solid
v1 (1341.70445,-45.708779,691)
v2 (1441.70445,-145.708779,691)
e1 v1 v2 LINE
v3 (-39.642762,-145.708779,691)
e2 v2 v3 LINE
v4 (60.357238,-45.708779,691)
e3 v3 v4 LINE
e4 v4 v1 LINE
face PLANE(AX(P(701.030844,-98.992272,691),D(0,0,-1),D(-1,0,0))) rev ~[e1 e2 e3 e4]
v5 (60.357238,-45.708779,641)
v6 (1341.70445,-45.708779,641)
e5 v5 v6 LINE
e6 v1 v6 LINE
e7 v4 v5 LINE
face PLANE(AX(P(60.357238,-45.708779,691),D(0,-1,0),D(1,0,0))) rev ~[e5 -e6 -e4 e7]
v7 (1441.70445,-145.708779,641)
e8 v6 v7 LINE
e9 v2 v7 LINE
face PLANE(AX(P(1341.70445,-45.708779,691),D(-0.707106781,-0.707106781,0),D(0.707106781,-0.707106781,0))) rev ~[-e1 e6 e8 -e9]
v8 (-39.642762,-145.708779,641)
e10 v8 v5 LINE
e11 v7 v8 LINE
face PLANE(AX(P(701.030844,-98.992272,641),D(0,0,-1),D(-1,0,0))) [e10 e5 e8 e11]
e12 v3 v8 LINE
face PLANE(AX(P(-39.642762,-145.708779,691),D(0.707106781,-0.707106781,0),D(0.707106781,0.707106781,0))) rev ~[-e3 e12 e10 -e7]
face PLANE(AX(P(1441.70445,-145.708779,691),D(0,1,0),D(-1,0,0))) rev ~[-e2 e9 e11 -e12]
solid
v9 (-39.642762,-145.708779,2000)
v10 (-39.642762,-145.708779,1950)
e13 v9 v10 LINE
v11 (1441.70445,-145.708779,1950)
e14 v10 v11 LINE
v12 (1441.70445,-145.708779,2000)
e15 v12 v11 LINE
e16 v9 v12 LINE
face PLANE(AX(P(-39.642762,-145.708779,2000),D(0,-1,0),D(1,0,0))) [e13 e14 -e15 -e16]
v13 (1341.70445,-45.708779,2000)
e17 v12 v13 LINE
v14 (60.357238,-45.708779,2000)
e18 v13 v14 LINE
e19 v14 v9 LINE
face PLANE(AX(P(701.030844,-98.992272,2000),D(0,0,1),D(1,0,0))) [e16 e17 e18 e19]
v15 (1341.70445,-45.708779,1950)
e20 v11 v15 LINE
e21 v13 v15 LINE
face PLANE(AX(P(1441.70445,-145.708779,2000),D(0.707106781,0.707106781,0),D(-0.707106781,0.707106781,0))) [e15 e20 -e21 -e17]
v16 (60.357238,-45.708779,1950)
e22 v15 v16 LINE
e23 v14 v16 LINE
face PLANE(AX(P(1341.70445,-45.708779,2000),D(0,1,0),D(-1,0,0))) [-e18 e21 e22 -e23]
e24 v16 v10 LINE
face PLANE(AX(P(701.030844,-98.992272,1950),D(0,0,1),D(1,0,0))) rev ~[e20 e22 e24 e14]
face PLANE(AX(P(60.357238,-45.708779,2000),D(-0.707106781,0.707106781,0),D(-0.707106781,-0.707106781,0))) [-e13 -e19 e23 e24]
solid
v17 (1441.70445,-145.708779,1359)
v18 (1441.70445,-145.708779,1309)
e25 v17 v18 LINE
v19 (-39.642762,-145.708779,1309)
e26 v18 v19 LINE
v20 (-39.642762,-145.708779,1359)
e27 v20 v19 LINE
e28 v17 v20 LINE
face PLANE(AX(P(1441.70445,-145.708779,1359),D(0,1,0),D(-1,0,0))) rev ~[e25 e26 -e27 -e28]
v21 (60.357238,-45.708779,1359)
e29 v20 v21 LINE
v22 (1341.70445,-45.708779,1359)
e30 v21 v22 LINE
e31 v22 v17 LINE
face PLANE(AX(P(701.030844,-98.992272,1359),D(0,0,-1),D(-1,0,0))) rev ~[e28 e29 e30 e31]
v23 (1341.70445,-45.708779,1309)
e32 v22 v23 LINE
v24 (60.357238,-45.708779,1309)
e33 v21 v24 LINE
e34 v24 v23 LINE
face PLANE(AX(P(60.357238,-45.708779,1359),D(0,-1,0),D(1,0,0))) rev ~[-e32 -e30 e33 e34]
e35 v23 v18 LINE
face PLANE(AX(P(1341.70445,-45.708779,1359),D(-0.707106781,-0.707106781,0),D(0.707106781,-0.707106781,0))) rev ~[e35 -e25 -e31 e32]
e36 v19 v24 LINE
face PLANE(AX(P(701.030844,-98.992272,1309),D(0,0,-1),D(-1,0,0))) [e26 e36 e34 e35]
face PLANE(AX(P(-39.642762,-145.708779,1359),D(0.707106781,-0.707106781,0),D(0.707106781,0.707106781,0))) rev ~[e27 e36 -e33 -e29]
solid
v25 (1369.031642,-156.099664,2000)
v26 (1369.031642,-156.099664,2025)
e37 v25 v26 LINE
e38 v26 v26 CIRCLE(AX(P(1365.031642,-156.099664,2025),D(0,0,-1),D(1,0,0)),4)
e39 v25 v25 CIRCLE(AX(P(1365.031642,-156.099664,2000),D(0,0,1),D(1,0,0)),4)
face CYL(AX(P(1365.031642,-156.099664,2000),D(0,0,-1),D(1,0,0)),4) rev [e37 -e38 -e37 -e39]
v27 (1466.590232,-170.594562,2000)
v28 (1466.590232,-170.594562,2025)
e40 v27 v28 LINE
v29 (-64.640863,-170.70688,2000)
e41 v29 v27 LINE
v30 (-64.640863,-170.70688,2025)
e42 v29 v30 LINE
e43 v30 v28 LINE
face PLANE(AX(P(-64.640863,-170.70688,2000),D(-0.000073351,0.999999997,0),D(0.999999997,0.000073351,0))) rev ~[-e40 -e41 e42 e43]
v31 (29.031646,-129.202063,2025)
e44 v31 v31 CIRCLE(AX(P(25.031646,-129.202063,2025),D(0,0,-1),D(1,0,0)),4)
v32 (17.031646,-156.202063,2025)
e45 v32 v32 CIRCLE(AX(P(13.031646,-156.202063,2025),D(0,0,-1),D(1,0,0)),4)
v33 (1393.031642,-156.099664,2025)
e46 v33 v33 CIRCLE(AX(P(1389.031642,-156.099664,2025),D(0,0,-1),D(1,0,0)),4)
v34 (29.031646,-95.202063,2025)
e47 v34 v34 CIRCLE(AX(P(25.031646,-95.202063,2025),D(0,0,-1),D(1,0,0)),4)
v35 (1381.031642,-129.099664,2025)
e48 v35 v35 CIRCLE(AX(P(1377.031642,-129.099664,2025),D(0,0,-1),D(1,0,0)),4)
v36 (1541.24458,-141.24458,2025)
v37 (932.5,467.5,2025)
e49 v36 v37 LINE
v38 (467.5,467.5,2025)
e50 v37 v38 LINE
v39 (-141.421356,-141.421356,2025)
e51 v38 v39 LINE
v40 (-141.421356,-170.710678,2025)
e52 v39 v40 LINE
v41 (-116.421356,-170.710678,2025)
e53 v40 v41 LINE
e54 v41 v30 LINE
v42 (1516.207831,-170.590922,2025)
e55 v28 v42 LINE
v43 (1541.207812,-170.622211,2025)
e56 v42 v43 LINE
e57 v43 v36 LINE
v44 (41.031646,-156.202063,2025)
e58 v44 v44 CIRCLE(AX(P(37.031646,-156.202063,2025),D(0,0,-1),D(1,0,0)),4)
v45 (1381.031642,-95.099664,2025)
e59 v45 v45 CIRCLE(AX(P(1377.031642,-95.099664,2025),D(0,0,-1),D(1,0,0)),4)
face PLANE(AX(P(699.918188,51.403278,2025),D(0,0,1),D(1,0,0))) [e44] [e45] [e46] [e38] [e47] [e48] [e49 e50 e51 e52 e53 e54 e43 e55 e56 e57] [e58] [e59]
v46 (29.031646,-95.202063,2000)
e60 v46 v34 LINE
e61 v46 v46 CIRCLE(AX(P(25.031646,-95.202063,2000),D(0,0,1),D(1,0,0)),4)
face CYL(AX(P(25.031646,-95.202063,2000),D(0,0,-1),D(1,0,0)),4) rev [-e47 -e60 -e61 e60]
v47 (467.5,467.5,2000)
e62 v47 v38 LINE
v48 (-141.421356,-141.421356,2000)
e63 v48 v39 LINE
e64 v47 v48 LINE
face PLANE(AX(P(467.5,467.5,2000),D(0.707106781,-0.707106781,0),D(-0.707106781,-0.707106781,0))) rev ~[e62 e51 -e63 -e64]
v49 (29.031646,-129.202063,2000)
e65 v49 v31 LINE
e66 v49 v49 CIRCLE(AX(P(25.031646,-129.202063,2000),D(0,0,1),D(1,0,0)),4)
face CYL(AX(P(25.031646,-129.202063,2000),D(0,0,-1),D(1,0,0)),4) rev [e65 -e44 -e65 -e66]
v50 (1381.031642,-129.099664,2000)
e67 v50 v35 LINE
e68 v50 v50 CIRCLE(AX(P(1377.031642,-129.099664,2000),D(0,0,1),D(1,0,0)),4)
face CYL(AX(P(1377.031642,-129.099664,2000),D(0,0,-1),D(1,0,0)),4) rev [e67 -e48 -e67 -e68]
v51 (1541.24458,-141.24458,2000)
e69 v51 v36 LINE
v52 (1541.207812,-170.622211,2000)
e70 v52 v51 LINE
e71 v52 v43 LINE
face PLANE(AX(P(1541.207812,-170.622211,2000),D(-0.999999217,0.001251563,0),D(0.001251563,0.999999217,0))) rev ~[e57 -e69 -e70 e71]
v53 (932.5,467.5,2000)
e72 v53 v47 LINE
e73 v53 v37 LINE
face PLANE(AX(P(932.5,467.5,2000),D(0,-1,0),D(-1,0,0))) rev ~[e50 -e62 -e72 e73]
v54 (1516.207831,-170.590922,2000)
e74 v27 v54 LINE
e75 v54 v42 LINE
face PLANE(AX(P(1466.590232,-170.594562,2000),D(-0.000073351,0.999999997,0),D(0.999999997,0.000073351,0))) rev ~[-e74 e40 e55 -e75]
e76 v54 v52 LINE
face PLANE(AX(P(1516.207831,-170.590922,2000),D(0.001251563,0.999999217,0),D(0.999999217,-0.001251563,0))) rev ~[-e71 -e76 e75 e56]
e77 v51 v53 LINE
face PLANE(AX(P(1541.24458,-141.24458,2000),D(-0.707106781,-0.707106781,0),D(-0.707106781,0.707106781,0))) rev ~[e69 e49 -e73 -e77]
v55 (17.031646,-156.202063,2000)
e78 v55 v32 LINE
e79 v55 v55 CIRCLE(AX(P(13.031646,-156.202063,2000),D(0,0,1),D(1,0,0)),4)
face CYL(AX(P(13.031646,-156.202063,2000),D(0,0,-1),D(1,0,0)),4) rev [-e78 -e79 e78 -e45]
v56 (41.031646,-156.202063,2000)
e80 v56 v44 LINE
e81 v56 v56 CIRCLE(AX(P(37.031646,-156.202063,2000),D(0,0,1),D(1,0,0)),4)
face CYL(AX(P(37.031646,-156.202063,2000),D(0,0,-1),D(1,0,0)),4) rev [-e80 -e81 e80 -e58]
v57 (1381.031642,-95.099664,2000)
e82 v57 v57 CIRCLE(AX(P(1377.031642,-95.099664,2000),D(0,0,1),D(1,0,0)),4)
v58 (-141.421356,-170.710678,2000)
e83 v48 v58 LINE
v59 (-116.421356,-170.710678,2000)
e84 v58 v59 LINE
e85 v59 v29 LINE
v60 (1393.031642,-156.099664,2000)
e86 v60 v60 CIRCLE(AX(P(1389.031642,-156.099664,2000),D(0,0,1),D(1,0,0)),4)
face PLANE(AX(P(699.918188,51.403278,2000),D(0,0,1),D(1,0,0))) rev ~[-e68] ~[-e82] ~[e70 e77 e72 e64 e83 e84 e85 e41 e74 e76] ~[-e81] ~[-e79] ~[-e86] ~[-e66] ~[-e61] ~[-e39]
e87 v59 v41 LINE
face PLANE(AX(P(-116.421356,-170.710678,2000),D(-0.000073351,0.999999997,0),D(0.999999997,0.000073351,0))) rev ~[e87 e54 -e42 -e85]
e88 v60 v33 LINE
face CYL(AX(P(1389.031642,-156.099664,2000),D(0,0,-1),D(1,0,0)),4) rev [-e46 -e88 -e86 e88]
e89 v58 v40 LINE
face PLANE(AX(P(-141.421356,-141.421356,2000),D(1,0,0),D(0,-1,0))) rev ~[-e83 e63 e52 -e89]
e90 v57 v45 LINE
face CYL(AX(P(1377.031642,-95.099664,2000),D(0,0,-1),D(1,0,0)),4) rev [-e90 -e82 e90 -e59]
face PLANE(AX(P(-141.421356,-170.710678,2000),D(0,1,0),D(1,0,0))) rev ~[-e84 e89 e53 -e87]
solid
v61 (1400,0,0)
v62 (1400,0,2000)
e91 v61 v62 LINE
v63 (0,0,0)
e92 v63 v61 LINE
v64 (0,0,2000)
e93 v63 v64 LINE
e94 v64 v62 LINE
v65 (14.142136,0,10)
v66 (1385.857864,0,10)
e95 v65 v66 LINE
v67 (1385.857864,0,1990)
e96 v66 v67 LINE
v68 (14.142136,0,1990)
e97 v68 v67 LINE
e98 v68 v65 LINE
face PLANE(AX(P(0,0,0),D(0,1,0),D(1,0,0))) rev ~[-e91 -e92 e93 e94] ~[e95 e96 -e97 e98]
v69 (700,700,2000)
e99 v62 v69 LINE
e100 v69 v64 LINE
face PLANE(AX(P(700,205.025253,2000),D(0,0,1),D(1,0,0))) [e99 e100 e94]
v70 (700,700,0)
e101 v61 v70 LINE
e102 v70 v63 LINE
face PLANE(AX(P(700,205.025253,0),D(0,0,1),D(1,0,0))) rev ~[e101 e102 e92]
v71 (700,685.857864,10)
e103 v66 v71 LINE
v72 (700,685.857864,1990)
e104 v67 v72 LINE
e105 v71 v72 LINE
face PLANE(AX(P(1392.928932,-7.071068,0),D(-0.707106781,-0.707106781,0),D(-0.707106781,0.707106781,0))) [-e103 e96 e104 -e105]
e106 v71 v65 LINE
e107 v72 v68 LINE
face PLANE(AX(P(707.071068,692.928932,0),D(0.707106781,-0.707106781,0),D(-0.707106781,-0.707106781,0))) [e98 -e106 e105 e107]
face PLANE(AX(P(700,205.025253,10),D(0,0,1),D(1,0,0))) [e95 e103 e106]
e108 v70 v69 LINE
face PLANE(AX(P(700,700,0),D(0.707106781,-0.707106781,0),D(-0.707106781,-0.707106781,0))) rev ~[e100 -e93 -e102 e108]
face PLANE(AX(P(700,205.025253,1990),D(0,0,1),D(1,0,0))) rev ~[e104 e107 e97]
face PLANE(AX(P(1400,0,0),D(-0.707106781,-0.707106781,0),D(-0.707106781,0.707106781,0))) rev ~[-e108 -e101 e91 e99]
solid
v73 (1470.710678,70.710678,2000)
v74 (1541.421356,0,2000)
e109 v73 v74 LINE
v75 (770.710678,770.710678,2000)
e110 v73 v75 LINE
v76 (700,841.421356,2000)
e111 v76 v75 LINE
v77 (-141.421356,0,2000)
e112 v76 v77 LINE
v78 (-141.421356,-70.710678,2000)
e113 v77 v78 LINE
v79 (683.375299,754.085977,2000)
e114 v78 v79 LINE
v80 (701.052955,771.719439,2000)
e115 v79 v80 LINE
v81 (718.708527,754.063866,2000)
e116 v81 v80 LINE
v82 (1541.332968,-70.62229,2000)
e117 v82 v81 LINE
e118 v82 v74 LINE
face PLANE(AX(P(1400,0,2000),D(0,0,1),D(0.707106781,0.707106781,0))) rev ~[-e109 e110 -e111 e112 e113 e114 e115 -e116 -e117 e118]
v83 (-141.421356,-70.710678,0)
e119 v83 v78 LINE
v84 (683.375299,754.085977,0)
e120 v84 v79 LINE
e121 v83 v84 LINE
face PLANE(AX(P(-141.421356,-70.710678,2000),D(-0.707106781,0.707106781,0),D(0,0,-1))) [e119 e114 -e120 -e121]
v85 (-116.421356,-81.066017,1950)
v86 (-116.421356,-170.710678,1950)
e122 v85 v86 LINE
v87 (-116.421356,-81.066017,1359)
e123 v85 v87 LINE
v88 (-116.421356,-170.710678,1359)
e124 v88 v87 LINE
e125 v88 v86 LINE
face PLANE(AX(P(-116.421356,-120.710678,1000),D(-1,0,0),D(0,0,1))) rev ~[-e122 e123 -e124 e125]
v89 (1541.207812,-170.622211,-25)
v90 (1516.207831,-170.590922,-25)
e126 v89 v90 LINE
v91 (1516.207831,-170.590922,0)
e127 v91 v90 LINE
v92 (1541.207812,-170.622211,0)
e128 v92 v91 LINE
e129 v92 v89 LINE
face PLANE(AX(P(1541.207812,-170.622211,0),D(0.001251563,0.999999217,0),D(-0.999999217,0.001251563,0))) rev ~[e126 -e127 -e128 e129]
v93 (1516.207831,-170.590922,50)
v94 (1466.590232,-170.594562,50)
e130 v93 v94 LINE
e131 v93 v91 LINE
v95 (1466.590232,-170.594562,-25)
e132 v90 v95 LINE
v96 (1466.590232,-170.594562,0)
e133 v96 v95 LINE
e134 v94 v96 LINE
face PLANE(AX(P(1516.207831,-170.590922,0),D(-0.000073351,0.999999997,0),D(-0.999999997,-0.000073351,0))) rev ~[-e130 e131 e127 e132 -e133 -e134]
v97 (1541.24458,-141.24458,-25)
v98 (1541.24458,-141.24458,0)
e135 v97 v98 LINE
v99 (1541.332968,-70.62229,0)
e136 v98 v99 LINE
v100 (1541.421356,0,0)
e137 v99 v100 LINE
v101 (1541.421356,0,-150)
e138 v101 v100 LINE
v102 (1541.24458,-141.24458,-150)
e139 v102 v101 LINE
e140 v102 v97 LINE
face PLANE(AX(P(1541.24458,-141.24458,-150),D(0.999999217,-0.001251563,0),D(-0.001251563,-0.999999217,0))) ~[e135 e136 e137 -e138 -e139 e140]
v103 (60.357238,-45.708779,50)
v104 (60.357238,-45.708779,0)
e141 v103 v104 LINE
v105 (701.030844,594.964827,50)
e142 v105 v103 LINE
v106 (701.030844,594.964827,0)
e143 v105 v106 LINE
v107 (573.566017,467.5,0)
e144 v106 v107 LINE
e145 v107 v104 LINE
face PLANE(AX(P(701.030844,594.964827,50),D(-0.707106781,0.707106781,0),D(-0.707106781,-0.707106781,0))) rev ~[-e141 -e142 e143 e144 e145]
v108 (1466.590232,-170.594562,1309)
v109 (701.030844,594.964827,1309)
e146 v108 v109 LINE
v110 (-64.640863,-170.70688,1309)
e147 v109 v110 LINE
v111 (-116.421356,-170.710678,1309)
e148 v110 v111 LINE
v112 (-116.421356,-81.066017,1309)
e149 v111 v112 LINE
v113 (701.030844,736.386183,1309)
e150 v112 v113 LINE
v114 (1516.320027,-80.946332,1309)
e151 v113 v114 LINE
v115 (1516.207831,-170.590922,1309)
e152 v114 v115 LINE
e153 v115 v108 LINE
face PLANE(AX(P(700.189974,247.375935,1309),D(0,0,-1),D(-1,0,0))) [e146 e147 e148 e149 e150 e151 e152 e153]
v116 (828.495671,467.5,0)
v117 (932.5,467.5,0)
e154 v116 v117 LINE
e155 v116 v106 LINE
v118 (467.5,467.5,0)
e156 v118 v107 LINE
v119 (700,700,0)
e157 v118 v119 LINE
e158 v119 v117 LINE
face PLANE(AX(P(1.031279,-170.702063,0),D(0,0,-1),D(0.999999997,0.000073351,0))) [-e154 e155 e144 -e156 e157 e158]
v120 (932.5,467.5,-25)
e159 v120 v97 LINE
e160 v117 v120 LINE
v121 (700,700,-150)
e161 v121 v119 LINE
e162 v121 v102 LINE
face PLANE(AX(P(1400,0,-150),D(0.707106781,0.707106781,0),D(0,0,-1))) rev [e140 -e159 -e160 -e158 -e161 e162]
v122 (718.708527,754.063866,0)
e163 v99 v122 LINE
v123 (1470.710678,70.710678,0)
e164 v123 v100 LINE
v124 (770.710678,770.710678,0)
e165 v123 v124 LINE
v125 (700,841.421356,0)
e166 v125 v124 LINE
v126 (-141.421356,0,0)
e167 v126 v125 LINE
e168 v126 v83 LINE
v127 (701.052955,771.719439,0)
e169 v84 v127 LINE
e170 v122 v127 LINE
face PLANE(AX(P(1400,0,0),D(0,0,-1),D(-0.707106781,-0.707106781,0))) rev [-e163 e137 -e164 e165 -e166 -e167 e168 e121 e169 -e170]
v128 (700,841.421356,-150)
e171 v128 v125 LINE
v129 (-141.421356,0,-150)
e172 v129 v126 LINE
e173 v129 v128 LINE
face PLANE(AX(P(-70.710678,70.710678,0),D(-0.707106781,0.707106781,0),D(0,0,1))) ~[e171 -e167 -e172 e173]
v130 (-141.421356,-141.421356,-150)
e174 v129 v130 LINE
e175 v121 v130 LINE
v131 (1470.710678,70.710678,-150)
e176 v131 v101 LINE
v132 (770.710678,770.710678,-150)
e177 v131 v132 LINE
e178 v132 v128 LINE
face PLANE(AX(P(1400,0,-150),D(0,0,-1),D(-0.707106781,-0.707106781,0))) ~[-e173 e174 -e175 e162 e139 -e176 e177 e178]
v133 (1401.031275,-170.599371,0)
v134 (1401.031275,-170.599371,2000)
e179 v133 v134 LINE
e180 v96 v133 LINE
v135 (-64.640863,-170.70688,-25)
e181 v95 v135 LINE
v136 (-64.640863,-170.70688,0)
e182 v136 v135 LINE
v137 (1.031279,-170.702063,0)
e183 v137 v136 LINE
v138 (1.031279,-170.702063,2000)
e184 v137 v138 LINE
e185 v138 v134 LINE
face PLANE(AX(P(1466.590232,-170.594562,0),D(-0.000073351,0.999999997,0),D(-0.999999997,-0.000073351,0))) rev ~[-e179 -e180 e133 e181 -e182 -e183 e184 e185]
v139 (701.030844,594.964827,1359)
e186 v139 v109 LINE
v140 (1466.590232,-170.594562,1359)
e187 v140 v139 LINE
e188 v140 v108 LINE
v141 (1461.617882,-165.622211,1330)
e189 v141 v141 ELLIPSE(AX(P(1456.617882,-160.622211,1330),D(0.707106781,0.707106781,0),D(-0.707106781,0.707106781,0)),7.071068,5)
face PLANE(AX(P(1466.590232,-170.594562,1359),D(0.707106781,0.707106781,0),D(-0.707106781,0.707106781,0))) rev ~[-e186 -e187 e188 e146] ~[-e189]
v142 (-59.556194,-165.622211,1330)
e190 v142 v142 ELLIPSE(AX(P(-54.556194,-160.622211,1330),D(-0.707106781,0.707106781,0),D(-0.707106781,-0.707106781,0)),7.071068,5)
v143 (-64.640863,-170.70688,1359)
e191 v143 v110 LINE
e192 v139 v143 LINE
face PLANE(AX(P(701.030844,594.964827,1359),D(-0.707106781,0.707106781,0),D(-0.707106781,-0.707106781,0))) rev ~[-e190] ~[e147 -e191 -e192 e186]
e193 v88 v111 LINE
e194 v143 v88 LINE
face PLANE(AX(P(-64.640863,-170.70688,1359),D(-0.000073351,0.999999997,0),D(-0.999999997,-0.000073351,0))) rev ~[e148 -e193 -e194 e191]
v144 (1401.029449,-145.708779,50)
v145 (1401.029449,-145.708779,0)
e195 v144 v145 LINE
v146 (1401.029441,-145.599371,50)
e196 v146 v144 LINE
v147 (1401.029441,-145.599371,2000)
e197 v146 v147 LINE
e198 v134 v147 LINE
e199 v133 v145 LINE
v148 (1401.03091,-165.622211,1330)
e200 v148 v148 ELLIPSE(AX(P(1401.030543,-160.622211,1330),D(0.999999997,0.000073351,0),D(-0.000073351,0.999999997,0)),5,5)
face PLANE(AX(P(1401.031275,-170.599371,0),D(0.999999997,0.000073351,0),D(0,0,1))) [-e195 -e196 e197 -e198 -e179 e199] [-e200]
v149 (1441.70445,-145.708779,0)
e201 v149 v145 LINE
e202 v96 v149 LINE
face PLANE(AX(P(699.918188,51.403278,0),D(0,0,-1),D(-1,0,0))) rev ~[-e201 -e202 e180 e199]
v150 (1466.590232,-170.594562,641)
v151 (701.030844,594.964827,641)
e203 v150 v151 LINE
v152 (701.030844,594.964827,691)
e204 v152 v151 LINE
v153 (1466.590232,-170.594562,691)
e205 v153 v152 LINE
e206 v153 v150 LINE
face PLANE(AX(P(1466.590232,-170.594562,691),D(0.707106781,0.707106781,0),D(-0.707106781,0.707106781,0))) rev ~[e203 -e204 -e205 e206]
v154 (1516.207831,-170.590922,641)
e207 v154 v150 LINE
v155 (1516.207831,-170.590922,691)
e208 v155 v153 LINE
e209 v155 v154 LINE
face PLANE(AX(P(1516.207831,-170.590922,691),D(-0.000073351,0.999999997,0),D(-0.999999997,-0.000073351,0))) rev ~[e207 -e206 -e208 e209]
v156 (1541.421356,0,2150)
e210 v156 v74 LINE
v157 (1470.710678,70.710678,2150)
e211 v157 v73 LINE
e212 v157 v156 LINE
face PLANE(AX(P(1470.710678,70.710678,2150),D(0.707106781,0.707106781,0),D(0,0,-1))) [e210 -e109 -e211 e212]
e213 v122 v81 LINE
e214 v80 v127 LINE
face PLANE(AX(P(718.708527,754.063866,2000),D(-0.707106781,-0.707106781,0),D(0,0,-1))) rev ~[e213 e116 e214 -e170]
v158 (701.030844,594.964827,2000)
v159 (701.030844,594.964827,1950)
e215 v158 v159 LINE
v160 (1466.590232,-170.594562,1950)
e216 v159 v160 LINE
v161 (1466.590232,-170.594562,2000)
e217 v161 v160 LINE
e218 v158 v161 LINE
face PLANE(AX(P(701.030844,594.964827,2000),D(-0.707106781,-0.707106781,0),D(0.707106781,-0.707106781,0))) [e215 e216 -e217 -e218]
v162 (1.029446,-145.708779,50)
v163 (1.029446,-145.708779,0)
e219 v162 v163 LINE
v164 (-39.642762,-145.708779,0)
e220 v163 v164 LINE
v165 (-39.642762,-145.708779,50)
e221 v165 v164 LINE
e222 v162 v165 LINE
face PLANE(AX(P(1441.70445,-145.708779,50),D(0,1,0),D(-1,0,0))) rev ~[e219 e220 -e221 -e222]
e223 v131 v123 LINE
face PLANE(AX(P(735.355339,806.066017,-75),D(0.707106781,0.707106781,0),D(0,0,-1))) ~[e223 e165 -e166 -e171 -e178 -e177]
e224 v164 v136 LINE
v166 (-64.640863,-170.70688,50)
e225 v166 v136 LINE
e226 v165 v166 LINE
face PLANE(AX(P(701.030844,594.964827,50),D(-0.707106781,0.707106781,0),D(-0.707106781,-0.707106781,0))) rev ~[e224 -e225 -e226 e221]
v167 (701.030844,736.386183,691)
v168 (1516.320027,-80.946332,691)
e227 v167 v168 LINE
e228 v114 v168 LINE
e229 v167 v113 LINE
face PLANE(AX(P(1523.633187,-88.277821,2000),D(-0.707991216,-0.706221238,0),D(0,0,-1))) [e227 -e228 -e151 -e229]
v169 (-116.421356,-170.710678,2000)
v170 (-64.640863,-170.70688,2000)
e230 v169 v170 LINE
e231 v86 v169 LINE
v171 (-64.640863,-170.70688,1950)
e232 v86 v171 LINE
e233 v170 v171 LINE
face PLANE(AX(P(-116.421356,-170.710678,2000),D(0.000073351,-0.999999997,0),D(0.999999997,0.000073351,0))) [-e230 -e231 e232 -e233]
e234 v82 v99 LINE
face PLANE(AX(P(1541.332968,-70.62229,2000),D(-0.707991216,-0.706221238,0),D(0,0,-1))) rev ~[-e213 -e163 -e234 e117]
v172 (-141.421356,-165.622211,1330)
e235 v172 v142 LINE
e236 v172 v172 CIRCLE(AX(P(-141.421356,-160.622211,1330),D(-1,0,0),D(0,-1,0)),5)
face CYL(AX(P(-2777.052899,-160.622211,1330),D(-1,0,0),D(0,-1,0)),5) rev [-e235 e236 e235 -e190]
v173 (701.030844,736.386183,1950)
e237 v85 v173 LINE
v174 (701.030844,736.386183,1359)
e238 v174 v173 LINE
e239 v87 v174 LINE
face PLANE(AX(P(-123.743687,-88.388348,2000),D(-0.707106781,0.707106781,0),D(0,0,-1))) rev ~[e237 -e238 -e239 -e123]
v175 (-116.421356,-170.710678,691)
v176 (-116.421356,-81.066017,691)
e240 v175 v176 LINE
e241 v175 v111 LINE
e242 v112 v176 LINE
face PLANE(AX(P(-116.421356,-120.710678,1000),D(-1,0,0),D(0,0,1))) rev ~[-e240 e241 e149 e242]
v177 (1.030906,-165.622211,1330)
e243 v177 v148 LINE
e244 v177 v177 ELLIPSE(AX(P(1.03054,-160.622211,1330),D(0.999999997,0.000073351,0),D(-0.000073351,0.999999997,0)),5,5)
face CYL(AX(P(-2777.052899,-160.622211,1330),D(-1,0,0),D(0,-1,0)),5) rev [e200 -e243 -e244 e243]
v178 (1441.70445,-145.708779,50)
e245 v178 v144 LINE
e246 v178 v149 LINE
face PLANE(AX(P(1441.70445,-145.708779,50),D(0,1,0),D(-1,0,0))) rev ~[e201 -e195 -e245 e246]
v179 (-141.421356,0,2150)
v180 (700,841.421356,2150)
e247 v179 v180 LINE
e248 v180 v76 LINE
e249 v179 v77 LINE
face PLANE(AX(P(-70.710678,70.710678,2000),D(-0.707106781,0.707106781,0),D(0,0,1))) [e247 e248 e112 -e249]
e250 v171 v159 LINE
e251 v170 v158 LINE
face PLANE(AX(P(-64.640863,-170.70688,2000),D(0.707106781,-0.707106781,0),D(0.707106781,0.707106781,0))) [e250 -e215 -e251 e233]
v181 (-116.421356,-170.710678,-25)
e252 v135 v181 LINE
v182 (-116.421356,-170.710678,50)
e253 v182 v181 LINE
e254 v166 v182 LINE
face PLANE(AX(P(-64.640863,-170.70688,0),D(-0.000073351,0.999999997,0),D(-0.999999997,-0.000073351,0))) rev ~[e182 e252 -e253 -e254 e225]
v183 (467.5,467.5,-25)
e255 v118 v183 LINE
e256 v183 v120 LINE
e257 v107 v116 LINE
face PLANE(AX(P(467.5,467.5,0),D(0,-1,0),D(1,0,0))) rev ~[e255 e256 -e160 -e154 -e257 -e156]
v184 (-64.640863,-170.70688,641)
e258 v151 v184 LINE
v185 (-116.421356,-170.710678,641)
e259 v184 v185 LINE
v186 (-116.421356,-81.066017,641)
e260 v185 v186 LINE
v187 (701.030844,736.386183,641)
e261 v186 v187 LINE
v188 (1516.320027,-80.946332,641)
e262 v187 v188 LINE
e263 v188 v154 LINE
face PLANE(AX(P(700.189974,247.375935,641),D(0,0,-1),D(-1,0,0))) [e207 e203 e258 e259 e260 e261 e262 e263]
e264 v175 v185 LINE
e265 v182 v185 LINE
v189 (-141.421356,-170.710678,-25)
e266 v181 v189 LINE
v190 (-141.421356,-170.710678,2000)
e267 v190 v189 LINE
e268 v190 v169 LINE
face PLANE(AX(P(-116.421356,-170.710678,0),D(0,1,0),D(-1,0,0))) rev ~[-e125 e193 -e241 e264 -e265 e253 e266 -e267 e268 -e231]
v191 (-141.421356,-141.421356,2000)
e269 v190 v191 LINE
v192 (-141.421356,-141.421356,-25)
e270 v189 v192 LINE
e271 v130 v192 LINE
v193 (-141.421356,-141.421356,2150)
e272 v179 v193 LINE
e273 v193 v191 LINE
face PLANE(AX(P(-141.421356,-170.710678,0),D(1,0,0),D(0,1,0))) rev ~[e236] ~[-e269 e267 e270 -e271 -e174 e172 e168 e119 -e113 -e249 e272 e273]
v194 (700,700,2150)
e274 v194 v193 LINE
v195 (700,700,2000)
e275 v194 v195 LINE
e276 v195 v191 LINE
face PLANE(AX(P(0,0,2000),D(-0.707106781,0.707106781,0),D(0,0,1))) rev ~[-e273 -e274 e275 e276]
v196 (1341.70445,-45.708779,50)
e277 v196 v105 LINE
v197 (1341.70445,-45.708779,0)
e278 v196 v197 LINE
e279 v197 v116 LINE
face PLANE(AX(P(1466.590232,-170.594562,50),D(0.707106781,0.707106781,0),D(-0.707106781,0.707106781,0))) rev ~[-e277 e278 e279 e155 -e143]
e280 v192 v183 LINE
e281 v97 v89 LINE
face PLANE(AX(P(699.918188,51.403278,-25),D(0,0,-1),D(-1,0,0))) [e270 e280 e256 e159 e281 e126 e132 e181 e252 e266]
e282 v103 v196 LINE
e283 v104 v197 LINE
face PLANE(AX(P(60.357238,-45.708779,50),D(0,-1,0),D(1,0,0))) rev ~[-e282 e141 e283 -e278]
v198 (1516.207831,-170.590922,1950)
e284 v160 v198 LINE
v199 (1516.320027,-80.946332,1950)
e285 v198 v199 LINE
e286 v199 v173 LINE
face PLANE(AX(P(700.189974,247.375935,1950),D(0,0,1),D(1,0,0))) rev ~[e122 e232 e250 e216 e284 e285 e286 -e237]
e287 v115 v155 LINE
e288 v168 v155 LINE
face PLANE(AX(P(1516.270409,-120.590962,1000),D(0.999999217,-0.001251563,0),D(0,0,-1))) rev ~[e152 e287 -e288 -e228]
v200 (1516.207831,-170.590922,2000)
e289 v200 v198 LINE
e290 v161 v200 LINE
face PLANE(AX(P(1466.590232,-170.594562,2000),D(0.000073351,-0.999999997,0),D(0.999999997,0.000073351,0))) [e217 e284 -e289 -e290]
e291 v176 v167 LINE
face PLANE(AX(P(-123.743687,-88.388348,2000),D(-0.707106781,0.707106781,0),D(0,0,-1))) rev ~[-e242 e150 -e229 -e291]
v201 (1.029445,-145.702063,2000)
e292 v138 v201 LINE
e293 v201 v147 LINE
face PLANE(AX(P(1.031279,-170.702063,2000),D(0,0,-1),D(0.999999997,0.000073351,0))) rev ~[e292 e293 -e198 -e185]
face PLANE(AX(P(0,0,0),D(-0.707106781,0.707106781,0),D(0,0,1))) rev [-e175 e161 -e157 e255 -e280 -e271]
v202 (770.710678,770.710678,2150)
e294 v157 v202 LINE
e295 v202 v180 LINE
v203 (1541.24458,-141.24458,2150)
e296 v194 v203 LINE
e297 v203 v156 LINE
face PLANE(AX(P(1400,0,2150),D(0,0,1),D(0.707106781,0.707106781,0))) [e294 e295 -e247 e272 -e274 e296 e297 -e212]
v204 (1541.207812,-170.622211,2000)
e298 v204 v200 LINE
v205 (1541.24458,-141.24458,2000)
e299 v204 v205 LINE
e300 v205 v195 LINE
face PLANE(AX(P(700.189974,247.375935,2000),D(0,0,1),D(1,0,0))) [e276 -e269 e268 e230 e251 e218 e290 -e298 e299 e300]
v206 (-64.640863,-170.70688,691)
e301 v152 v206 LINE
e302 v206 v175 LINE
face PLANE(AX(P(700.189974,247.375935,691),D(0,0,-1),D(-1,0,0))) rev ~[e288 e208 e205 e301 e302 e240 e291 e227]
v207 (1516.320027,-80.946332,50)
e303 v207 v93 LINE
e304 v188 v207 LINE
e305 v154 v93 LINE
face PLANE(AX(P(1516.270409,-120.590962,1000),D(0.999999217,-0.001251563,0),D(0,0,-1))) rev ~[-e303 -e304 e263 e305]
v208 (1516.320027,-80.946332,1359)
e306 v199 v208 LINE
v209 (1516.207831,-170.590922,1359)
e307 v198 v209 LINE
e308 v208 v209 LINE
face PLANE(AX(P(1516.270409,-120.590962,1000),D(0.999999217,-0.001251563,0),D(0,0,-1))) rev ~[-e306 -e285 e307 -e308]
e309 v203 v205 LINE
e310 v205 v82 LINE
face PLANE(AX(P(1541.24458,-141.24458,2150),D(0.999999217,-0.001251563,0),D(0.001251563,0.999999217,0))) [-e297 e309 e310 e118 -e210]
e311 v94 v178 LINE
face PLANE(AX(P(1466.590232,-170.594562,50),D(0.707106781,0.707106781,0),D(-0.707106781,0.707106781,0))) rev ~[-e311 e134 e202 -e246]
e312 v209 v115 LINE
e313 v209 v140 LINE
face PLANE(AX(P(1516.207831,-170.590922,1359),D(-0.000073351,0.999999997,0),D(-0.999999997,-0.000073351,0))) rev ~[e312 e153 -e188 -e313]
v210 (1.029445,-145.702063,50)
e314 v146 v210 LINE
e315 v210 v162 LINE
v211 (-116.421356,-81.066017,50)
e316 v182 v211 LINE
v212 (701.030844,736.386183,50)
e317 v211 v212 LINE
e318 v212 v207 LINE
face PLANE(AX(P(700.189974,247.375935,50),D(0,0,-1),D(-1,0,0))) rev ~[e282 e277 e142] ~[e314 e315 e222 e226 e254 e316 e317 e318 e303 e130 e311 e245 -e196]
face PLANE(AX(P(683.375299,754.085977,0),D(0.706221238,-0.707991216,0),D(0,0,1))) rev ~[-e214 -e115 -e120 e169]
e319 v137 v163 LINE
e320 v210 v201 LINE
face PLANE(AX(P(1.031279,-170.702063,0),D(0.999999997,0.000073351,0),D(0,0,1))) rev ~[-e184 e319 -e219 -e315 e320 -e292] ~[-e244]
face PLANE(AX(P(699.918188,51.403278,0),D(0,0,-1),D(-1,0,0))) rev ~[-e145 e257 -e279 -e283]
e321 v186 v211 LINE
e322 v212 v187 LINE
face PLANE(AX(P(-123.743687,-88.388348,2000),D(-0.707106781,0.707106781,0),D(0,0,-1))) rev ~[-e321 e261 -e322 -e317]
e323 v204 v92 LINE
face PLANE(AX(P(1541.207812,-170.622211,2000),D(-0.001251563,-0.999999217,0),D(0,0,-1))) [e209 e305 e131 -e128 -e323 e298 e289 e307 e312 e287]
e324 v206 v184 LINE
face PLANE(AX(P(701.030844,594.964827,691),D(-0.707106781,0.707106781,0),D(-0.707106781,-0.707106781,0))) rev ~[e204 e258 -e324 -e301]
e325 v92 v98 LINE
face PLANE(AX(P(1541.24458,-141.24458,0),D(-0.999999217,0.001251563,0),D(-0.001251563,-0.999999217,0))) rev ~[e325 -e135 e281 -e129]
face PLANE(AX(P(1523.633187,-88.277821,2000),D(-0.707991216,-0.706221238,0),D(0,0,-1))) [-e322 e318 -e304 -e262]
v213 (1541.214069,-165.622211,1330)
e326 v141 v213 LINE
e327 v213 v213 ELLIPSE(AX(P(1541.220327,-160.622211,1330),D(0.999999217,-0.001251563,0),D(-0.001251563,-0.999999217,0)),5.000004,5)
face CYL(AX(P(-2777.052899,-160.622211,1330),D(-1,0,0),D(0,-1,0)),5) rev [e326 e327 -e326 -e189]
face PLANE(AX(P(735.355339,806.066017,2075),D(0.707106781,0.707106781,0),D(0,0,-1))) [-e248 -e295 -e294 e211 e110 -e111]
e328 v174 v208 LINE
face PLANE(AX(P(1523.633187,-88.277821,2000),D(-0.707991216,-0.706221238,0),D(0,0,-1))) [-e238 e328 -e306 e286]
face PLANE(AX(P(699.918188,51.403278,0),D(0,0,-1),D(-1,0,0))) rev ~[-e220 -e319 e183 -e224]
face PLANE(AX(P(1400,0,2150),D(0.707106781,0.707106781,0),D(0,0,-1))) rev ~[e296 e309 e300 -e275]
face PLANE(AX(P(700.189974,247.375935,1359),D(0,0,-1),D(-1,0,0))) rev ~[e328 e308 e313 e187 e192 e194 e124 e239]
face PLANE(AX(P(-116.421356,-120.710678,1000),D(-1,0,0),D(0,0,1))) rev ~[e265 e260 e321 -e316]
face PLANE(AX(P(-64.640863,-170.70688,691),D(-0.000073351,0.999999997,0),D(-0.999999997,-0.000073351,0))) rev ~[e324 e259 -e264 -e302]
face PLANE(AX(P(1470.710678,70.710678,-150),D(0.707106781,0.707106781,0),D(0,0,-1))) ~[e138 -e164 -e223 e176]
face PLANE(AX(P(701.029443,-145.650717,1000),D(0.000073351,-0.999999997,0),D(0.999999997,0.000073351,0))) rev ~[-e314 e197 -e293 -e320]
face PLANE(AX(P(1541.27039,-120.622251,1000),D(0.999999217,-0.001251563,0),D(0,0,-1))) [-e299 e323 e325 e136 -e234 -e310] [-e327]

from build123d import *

# Parameters (mm, degrees)
BOSS_EXTRUDE1_DEPTH      = 2000
SHELL1_T                 = -10
SKETCH3_W                = 150
SKETCH3_H                = 1096.015510839
BOSS_EXTRUDE2_DEPTH      = 100
SKETCH7_W                = 150
SKETCH7_H                = 1089.949493661
BOSS_EXTRUDE4_DEPTH      = 100
CUT_EXTRUDE1_DEPTH       = 6
CUT_EXTRUDE1_DEPTH_BACK  = 6.066017
SKETCH8_W                = 150
SKETCH8_H                = 100
SKETCH9_W                = 150
SKETCH9_H                = 100
BOSS_EXTRUDE5_DEPTH      = 239.05
SKETCH10_W               = 150
SKETCH10_H               = 100
BOSS_EXTRUDE6_DEPTH      = 399.5
CUT_EXTRUDE4_DEPTH       = 1197.5
SKETCH14_W               = 2000
SKETCH14_H               = 100
BOSS_EXTRUDE7_DEPTH      = 25
SKETCH15_W               = 2000
SKETCH15_H               = 100
BOSS_EXTRUDE8_DEPTH      = 25
SKETCH16_W               = 2000
SKETCH16_H               = 25
BOSS_EXTRUDE9_DEPTH      = 1436
SKETCH17_W               = 25
SKETCH17_H               = 2000
BOSS_EXTRUDE10_DEPTH     = 1436
CUT_EXTRUDE11_DEPTH      = 1286
CUT_EXTRUDE12_DEPTH      = 1286
BOSS_EXTRUDE13_DEPTH     = 50
BOSS_EXTRUDE14_DEPTH     = 50
BOSS_EXTRUDE15_DEPTH     = 50
BOSS_EXTRUDE16_DEPTH     = 50
BOSS_EXTRUDE17_DEPTH     = 50
BOSS_EXTRUDE18_DEPTH     = 50
BOSS_EXTRUDE19_DEPTH     = 50
BOSS_EXTRUDE20_DEPTH     = 50
SKETCH34_W               = 1400
SKETCH34_H               = 2000
BOSS_EXTRUDE21_DEPTH     = 25
BOSS_EXTRUDE22_DEPTH     = 25
BOSS_EXTRUDE23_DEPTH     = 25
CUT_EXTRUDE16_DEPTH      = 2777.052898712
CUT_EXTRUDE16_DEPTH_BACK = 2777.052898712
SKETCH43_R               = 5
SKETCH45_R               = 4
CUT_EXTRUDE17_DEPTH      = 30


with BuildPart() as part:
    # Sketch1 → Boss-Extrude1 (new body)
    with BuildSketch(Plane.XY):
        Polygon((0, 0), (1400, 0), (700, 700), align=None)
    extrude(amount=BOSS_EXTRUDE1_DEPTH)

    # Shell1
    shell1_openings = [part.faces().sort_by_distance(p)[0] for p in [
        (700, 0, 1000),
    ]]
    offset(amount=SHELL1_T, openings=shell1_openings, kind=Kind.INTERSECTION)


with BuildPart() as body_2:
    # Sketch3 → Boss-Extrude2 (new body)
    with BuildSketch(Plane(origin=(0, 0, 0), x_dir=(0, 0, 1), z_dir=(-0.7071067811865477, 0.7071067811865475, 0))):
        with Locations((2075, 548.00775542)):
            Rectangle(SKETCH3_W, SKETCH3_H)
    extrude(amount=BOSS_EXTRUDE2_DEPTH)

    # Sketch7 → Boss-Extrude4 (add)
    with BuildSketch(Plane(origin=(700, 700, 0), x_dir=(0, 0, -1), z_dir=(0.7071067811865477, 0.7071067811865475, 0))):
        with Locations((-2075, -444.974746831)):
            Rectangle(SKETCH7_W, SKETCH7_H)
    extrude(amount=BOSS_EXTRUDE4_DEPTH)

    # Sketch8 → Cut-Extrude1 (cut, two sides: drawn at the far end of the back side and taken through both)
    with BuildSketch(Plane(origin=(775, 775, 0), x_dir=(0, 0, -1), z_dir=(0.7071067811865476, 0.7071067811865476, 0)).offset(-CUT_EXTRUDE1_DEPTH_BACK)):
        with Locations((-2075, 50)):
            Rectangle(SKETCH8_W, SKETCH8_H)
    extrude(amount=CUT_EXTRUDE1_DEPTH + CUT_EXTRUDE1_DEPTH_BACK, mode=Mode.SUBTRACT)

    # Sketch9 → Boss-Extrude5 (add)
    with BuildSketch(Plane(origin=(0, 0, 0), x_dir=(0, 0, 1), z_dir=(-0.7071067811865476, -0.7071067811865476, 0))):
        with Locations((2075, 50)):
            Rectangle(SKETCH9_W, SKETCH9_H)
    extrude(amount=BOSS_EXTRUDE5_DEPTH)

    # Sketch10 → Boss-Extrude6 (add)
    with BuildSketch(Plane(origin=(700, -700, 0), x_dir=(0, 0, -1), z_dir=(0.7071067811865476, -0.7071067811865476, 0))):
        with Locations((-2075, 1039.949493661)):
            Rectangle(SKETCH10_W, SKETCH10_H)
    extrude(amount=BOSS_EXTRUDE6_DEPTH)

    # Sketch13 → Cut-Extrude4 (cut)
    with BuildSketch(Plane.XY.offset(2150)):
        Polygon((-141.421356237, 0), (-141.421356237, -141.421356237), (-169.033876043, -169.033876043), (-239.744554161, -98.323197924), align=None)
        Polygon((1541.421356237, 0), (1753.199837203, -211.778480965), (1682.489159084, -282.489159084), (1541.244579542, -141.244579542), align=None)
    extrude(amount=-CUT_EXTRUDE4_DEPTH, mode=Mode.SUBTRACT)


with BuildPart() as body_3:
    # Mirror4: mirrored copy
    add(body_2.part.mirror(Plane.XY.offset(1000)))


with BuildPart() as body_2_1:
    add(body_2.part)

    add(body_3.part)  # Boss-Extrude7 merges body 3
    # Sketch14 → Boss-Extrude7 (add)
    with BuildSketch(Plane.ZY.offset(141.421356237)):
        with Locations((1000, -120.710678119)):
            Rectangle(SKETCH14_W, SKETCH14_H)
    extrude(amount=-BOSS_EXTRUDE7_DEPTH)

    # Sketch15 → Boss-Extrude8 (add)
    with BuildSketch(Plane(origin=(1541.418941738, -1.929185159, 0), x_dir=(0, 0, -1), z_dir=(0.999999216794127, -0.001251563475337267, 0))):
        with Locations((-1000, -118.693158413)):
            Rectangle(SKETCH15_W, SKETCH15_H)
    extrude(amount=-BOSS_EXTRUDE8_DEPTH)

    # Sketch16 → Boss-Extrude9 (add)
    with BuildSketch(Plane(origin=(-106.066017178, -106.066017178, 0), x_dir=(0, 0, -1), z_dir=(0.7071067811865483, 0.7071067811865468, 0))):
        with Locations((-1000, 37.5)):
            Rectangle(SKETCH16_W, SKETCH16_H)
    extrude(amount=BOSS_EXTRUDE9_DEPTH)

    # Sketch17 → Boss-Extrude10 (add)
    with BuildSketch(Plane(origin=(804.048443672, -806.063602678, 0), x_dir=(0.7079912163968599, 0.7062212383558673, 0), z_dir=(-0.7062212383558673, 0.7079912163968599, 0))):
        with Locations((1028.875241871, -1000)):
            Rectangle(SKETCH17_W, SKETCH17_H)
    extrude(amount=BOSS_EXTRUDE10_DEPTH)

    # Sketch27 → Cut-Extrude11 (cut)
    with BuildSketch(Plane(origin=(719.584743808, 717.785781949, 0), x_dir=(0, 0, 1), z_dir=(-0.7079912163968599, -0.7062212383558673, 0))):
        Polygon((0, 101.272137447), (0, 51.272098287), (2000, 51.272098287), (2000, 101.272137447), (2000, 297.477961859), (0, 297.477961859), align=None)
    extrude(amount=-CUT_EXTRUDE11_DEPTH, mode=Mode.SUBTRACT)

    # Sketch28 → Cut-Extrude12 (cut)
    with BuildSketch(Plane(origin=(-17.67766953, 17.67766953, 0), x_dir=(0, 0, -1), z_dir=(0.7071067811865468, -0.7071067811865483, 0))):
        Polygon((-2000, 1041.407346594), (0, 1041.407346594), (0, 1089.949493661), (0, 1286), (-2000, 1286), (-2000, 1089.949493661), align=None)
    extrude(amount=-CUT_EXTRUDE12_DEPTH, mode=Mode.SUBTRACT)

    # Sketch29 → Boss-Extrude13 (add)
    with BuildSketch(Plane(origin=(0, 0, 2000), x_dir=(-1, 0, 0), z_dir=(0, 0, -1))):
        Polygon((-701.03084385, 594.964826672), (-1466.590232409, -170.594561887), (-1516.207831122, -170.590922364), (-1516.320027106, -80.946331633), (-701.03084385, 736.386182909), (-630.320165731, 665.67550479), (116.421356237, -81.066017178), (116.421356237, -170.710678119), (64.640862765, -170.706879943), align=None)
    extrude(amount=BOSS_EXTRUDE13_DEPTH)

    # Sketch30 → Boss-Extrude14 (add)
    with BuildSketch(Plane(origin=(0, 0, 1359), x_dir=(-1, 0, 0), z_dir=(0, 0, -1))):
        Polygon((-701.03084385, 736.386182909), (-1516.320027106, -80.946331633), (-1516.207831122, -170.590922364), (-1466.590232409, -170.594561887), (-701.03084385, 594.964826672), (64.640862765, -170.706879943), (116.421356237, -170.710678119), (116.421356237, -81.066017178), align=None)
    extrude(amount=BOSS_EXTRUDE14_DEPTH)

    # Sketch31 → Boss-Extrude15 (add)
    with BuildSketch(Plane(origin=(0, 0, 691), x_dir=(-1, 0, 0), z_dir=(0, 0, -1))):
        Polygon((116.421356237, -81.066017178), (-701.03084385, 736.386182909), (-1516.320027106, -80.946331633), (-1516.207831122, -170.590922364), (-1466.590232409, -170.594561887), (-701.03084385, 594.964826672), (64.640862765, -170.706879943), (116.421356237, -170.710678119), align=None)
    extrude(amount=BOSS_EXTRUDE15_DEPTH)

    # Sketch33 → Boss-Extrude16 (add)
    with BuildSketch(Plane(origin=(0, 0, 50), x_dir=(-1, 0, 0), z_dir=(0, 0, -1))):
        Polygon((116.421356237, -170.710678119), (116.421356237, -81.066017178), (-701.03084385, 736.386182909), (-1516.320027106, -80.946331633), (-1516.207831122, -170.590922364), (-1466.590232409, -170.594561887), (-701.03084385, 594.964826672), (64.640862765, -170.706879943), align=None)
    extrude(amount=BOSS_EXTRUDE16_DEPTH)



with BuildPart() as body_3_2:
    # Sketch35 → Boss-Extrude17 (new body)
    with BuildSketch(Plane.XY.offset(2000)):
        Polygon((1341.704449553, -45.708779031), (60.357238147, -45.708779031), (-39.642761853, -145.708779031), (1441.704449553, -145.708779031), align=None)
    extrude(amount=-BOSS_EXTRUDE17_DEPTH)


with BuildPart() as body_4:
    # Sketch36 → Boss-Extrude18 (new body)
    with BuildSketch(Plane(origin=(0, 0, 1359), x_dir=(-1, 0, 0), z_dir=(0, 0, -1))):
        Polygon((39.642761853, -145.708779031), (-60.357238147, -45.708779031), (-1341.704449553, -45.708779031), (-1441.704449553, -145.708779031), align=None)
    extrude(amount=BOSS_EXTRUDE18_DEPTH)


with BuildPart() as body_5:
    # Sketch37 → Boss-Extrude19 (new body)
    with BuildSketch(Plane(origin=(0, 0, 691), x_dir=(-1, 0, 0), z_dir=(0, 0, -1))):
        Polygon((-1441.704449553, -145.708779031), (39.642761853, -145.708779031), (-60.357238147, -45.708779031), (-1341.704449553, -45.708779031), align=None)
    extrude(amount=BOSS_EXTRUDE19_DEPTH)


with BuildPart() as body_6:
    # Sketch38 → Boss-Extrude20 (new body)
    with BuildSketch(Plane(origin=(0, 0, 50), x_dir=(-1, 0, 0), z_dir=(0, 0, -1))):
        Polygon((-1341.704449553, -45.708779031), (-1441.704449553, -145.708779031), (39.642761853, -145.708779031), (-60.357238147, -45.708779031), align=None)
    extrude(amount=BOSS_EXTRUDE20_DEPTH)


with BuildPart() as body_7:
    # Sketch34 → Boss-Extrude21 (new body)
    with BuildSketch(Plane(origin=(0.012521253, -170.702137522, 0), x_dir=(0.9999999973097808, 7.335147241276342e-05, 0), z_dir=(7.335147241276342e-05, -0.9999999973097808, 0))):
        with Locations((701.018757721, 1000)):
            Rectangle(SKETCH34_W, SKETCH34_H)
    extrude(amount=-BOSS_EXTRUDE21_DEPTH)


with BuildPart() as body_8:
    # Sketch39 → Boss-Extrude22 (new body)
    with BuildSketch(Plane.XY.offset(2000)):
        Polygon((-64.640862765, -170.706879943), (1466.590232409, -170.594561887), (1516.207831122, -170.590922364), (1541.207811542, -170.62221145), (1541.244579542, -141.244579542), (932.5, 467.5), (467.5, 467.5), (-141.421356237, -141.421356237), (-141.421356237, -170.710678119), (-116.421356237, -170.710678119), align=None)
    extrude(amount=BOSS_EXTRUDE22_DEPTH)

    # Sketch45 → Cut-Extrude17 (cut)
    with BuildSketch(Plane.XY.offset(2000)):
        with Locations((13.031645739, -156.202062795)):
            Circle(SKETCH45_R)
        with Locations((37.031645739, -156.202062795)):
            Circle(SKETCH45_R)
        with Locations((25.031645739, -129.202062795)):
            Circle(SKETCH45_R)
        with Locations((25.031645739, -95.202062795)):
            Circle(SKETCH45_R)
        with Locations((1365.031641973, -156.099664126)):
            Circle(SKETCH45_R)
        with Locations((1389.031641973, -156.099664126)):
            Circle(SKETCH45_R)
        with Locations((1377.031641973, -129.099664126)):
            Circle(SKETCH45_R)
        with Locations((1377.031641973, -95.099664126)):
            Circle(SKETCH45_R)
    extrude(amount=CUT_EXTRUDE17_DEPTH, mode=Mode.SUBTRACT)


with BuildPart() as body_2_2:
    add(body_2_1.part)

    add(body_6.part)  # Boss-Extrude23 merges body 6

    add(body_7.part)  # Boss-Extrude23 merges body 7
    # Sketch40 → Boss-Extrude23 (add)
    with BuildSketch(Plane(origin=(0, 0, 0), x_dir=(-1, 0, 0), z_dir=(0, 0, -1))):
        Polygon((-1466.590232409, -170.594561887), (64.640862765, -170.706879943), (116.421356237, -170.710678119), (141.421356237, -170.710678119), (141.421356237, -141.421356237), (-467.5, 467.5), (-932.5, 467.5), (-1541.244579542, -141.244579542), (-1541.207811542, -170.62221145), (-1516.207831122, -170.590922364), align=None)
    extrude(amount=BOSS_EXTRUDE23_DEPTH)

    # Sketch43 → Cut-Extrude16 (cut, two sides: drawn at the far end of the back side and taken through both)
    with BuildSketch(Plane(origin=(0, 0, 0), x_dir=(0, 0, -1), z_dir=(1, 0, 0)).offset(-CUT_EXTRUDE16_DEPTH_BACK)):
        with Locations(Location((-1330, -160.62221145, 0), (0, 0, 270))):
            Circle(SKETCH43_R)
    extrude(amount=CUT_EXTRUDE16_DEPTH + CUT_EXTRUDE16_DEPTH_BACK, mode=Mode.SUBTRACT)


solid = Compound([part.part, body_3_2.part, body_4.part, body_5.part, body_8.part, body_2_2.part])
